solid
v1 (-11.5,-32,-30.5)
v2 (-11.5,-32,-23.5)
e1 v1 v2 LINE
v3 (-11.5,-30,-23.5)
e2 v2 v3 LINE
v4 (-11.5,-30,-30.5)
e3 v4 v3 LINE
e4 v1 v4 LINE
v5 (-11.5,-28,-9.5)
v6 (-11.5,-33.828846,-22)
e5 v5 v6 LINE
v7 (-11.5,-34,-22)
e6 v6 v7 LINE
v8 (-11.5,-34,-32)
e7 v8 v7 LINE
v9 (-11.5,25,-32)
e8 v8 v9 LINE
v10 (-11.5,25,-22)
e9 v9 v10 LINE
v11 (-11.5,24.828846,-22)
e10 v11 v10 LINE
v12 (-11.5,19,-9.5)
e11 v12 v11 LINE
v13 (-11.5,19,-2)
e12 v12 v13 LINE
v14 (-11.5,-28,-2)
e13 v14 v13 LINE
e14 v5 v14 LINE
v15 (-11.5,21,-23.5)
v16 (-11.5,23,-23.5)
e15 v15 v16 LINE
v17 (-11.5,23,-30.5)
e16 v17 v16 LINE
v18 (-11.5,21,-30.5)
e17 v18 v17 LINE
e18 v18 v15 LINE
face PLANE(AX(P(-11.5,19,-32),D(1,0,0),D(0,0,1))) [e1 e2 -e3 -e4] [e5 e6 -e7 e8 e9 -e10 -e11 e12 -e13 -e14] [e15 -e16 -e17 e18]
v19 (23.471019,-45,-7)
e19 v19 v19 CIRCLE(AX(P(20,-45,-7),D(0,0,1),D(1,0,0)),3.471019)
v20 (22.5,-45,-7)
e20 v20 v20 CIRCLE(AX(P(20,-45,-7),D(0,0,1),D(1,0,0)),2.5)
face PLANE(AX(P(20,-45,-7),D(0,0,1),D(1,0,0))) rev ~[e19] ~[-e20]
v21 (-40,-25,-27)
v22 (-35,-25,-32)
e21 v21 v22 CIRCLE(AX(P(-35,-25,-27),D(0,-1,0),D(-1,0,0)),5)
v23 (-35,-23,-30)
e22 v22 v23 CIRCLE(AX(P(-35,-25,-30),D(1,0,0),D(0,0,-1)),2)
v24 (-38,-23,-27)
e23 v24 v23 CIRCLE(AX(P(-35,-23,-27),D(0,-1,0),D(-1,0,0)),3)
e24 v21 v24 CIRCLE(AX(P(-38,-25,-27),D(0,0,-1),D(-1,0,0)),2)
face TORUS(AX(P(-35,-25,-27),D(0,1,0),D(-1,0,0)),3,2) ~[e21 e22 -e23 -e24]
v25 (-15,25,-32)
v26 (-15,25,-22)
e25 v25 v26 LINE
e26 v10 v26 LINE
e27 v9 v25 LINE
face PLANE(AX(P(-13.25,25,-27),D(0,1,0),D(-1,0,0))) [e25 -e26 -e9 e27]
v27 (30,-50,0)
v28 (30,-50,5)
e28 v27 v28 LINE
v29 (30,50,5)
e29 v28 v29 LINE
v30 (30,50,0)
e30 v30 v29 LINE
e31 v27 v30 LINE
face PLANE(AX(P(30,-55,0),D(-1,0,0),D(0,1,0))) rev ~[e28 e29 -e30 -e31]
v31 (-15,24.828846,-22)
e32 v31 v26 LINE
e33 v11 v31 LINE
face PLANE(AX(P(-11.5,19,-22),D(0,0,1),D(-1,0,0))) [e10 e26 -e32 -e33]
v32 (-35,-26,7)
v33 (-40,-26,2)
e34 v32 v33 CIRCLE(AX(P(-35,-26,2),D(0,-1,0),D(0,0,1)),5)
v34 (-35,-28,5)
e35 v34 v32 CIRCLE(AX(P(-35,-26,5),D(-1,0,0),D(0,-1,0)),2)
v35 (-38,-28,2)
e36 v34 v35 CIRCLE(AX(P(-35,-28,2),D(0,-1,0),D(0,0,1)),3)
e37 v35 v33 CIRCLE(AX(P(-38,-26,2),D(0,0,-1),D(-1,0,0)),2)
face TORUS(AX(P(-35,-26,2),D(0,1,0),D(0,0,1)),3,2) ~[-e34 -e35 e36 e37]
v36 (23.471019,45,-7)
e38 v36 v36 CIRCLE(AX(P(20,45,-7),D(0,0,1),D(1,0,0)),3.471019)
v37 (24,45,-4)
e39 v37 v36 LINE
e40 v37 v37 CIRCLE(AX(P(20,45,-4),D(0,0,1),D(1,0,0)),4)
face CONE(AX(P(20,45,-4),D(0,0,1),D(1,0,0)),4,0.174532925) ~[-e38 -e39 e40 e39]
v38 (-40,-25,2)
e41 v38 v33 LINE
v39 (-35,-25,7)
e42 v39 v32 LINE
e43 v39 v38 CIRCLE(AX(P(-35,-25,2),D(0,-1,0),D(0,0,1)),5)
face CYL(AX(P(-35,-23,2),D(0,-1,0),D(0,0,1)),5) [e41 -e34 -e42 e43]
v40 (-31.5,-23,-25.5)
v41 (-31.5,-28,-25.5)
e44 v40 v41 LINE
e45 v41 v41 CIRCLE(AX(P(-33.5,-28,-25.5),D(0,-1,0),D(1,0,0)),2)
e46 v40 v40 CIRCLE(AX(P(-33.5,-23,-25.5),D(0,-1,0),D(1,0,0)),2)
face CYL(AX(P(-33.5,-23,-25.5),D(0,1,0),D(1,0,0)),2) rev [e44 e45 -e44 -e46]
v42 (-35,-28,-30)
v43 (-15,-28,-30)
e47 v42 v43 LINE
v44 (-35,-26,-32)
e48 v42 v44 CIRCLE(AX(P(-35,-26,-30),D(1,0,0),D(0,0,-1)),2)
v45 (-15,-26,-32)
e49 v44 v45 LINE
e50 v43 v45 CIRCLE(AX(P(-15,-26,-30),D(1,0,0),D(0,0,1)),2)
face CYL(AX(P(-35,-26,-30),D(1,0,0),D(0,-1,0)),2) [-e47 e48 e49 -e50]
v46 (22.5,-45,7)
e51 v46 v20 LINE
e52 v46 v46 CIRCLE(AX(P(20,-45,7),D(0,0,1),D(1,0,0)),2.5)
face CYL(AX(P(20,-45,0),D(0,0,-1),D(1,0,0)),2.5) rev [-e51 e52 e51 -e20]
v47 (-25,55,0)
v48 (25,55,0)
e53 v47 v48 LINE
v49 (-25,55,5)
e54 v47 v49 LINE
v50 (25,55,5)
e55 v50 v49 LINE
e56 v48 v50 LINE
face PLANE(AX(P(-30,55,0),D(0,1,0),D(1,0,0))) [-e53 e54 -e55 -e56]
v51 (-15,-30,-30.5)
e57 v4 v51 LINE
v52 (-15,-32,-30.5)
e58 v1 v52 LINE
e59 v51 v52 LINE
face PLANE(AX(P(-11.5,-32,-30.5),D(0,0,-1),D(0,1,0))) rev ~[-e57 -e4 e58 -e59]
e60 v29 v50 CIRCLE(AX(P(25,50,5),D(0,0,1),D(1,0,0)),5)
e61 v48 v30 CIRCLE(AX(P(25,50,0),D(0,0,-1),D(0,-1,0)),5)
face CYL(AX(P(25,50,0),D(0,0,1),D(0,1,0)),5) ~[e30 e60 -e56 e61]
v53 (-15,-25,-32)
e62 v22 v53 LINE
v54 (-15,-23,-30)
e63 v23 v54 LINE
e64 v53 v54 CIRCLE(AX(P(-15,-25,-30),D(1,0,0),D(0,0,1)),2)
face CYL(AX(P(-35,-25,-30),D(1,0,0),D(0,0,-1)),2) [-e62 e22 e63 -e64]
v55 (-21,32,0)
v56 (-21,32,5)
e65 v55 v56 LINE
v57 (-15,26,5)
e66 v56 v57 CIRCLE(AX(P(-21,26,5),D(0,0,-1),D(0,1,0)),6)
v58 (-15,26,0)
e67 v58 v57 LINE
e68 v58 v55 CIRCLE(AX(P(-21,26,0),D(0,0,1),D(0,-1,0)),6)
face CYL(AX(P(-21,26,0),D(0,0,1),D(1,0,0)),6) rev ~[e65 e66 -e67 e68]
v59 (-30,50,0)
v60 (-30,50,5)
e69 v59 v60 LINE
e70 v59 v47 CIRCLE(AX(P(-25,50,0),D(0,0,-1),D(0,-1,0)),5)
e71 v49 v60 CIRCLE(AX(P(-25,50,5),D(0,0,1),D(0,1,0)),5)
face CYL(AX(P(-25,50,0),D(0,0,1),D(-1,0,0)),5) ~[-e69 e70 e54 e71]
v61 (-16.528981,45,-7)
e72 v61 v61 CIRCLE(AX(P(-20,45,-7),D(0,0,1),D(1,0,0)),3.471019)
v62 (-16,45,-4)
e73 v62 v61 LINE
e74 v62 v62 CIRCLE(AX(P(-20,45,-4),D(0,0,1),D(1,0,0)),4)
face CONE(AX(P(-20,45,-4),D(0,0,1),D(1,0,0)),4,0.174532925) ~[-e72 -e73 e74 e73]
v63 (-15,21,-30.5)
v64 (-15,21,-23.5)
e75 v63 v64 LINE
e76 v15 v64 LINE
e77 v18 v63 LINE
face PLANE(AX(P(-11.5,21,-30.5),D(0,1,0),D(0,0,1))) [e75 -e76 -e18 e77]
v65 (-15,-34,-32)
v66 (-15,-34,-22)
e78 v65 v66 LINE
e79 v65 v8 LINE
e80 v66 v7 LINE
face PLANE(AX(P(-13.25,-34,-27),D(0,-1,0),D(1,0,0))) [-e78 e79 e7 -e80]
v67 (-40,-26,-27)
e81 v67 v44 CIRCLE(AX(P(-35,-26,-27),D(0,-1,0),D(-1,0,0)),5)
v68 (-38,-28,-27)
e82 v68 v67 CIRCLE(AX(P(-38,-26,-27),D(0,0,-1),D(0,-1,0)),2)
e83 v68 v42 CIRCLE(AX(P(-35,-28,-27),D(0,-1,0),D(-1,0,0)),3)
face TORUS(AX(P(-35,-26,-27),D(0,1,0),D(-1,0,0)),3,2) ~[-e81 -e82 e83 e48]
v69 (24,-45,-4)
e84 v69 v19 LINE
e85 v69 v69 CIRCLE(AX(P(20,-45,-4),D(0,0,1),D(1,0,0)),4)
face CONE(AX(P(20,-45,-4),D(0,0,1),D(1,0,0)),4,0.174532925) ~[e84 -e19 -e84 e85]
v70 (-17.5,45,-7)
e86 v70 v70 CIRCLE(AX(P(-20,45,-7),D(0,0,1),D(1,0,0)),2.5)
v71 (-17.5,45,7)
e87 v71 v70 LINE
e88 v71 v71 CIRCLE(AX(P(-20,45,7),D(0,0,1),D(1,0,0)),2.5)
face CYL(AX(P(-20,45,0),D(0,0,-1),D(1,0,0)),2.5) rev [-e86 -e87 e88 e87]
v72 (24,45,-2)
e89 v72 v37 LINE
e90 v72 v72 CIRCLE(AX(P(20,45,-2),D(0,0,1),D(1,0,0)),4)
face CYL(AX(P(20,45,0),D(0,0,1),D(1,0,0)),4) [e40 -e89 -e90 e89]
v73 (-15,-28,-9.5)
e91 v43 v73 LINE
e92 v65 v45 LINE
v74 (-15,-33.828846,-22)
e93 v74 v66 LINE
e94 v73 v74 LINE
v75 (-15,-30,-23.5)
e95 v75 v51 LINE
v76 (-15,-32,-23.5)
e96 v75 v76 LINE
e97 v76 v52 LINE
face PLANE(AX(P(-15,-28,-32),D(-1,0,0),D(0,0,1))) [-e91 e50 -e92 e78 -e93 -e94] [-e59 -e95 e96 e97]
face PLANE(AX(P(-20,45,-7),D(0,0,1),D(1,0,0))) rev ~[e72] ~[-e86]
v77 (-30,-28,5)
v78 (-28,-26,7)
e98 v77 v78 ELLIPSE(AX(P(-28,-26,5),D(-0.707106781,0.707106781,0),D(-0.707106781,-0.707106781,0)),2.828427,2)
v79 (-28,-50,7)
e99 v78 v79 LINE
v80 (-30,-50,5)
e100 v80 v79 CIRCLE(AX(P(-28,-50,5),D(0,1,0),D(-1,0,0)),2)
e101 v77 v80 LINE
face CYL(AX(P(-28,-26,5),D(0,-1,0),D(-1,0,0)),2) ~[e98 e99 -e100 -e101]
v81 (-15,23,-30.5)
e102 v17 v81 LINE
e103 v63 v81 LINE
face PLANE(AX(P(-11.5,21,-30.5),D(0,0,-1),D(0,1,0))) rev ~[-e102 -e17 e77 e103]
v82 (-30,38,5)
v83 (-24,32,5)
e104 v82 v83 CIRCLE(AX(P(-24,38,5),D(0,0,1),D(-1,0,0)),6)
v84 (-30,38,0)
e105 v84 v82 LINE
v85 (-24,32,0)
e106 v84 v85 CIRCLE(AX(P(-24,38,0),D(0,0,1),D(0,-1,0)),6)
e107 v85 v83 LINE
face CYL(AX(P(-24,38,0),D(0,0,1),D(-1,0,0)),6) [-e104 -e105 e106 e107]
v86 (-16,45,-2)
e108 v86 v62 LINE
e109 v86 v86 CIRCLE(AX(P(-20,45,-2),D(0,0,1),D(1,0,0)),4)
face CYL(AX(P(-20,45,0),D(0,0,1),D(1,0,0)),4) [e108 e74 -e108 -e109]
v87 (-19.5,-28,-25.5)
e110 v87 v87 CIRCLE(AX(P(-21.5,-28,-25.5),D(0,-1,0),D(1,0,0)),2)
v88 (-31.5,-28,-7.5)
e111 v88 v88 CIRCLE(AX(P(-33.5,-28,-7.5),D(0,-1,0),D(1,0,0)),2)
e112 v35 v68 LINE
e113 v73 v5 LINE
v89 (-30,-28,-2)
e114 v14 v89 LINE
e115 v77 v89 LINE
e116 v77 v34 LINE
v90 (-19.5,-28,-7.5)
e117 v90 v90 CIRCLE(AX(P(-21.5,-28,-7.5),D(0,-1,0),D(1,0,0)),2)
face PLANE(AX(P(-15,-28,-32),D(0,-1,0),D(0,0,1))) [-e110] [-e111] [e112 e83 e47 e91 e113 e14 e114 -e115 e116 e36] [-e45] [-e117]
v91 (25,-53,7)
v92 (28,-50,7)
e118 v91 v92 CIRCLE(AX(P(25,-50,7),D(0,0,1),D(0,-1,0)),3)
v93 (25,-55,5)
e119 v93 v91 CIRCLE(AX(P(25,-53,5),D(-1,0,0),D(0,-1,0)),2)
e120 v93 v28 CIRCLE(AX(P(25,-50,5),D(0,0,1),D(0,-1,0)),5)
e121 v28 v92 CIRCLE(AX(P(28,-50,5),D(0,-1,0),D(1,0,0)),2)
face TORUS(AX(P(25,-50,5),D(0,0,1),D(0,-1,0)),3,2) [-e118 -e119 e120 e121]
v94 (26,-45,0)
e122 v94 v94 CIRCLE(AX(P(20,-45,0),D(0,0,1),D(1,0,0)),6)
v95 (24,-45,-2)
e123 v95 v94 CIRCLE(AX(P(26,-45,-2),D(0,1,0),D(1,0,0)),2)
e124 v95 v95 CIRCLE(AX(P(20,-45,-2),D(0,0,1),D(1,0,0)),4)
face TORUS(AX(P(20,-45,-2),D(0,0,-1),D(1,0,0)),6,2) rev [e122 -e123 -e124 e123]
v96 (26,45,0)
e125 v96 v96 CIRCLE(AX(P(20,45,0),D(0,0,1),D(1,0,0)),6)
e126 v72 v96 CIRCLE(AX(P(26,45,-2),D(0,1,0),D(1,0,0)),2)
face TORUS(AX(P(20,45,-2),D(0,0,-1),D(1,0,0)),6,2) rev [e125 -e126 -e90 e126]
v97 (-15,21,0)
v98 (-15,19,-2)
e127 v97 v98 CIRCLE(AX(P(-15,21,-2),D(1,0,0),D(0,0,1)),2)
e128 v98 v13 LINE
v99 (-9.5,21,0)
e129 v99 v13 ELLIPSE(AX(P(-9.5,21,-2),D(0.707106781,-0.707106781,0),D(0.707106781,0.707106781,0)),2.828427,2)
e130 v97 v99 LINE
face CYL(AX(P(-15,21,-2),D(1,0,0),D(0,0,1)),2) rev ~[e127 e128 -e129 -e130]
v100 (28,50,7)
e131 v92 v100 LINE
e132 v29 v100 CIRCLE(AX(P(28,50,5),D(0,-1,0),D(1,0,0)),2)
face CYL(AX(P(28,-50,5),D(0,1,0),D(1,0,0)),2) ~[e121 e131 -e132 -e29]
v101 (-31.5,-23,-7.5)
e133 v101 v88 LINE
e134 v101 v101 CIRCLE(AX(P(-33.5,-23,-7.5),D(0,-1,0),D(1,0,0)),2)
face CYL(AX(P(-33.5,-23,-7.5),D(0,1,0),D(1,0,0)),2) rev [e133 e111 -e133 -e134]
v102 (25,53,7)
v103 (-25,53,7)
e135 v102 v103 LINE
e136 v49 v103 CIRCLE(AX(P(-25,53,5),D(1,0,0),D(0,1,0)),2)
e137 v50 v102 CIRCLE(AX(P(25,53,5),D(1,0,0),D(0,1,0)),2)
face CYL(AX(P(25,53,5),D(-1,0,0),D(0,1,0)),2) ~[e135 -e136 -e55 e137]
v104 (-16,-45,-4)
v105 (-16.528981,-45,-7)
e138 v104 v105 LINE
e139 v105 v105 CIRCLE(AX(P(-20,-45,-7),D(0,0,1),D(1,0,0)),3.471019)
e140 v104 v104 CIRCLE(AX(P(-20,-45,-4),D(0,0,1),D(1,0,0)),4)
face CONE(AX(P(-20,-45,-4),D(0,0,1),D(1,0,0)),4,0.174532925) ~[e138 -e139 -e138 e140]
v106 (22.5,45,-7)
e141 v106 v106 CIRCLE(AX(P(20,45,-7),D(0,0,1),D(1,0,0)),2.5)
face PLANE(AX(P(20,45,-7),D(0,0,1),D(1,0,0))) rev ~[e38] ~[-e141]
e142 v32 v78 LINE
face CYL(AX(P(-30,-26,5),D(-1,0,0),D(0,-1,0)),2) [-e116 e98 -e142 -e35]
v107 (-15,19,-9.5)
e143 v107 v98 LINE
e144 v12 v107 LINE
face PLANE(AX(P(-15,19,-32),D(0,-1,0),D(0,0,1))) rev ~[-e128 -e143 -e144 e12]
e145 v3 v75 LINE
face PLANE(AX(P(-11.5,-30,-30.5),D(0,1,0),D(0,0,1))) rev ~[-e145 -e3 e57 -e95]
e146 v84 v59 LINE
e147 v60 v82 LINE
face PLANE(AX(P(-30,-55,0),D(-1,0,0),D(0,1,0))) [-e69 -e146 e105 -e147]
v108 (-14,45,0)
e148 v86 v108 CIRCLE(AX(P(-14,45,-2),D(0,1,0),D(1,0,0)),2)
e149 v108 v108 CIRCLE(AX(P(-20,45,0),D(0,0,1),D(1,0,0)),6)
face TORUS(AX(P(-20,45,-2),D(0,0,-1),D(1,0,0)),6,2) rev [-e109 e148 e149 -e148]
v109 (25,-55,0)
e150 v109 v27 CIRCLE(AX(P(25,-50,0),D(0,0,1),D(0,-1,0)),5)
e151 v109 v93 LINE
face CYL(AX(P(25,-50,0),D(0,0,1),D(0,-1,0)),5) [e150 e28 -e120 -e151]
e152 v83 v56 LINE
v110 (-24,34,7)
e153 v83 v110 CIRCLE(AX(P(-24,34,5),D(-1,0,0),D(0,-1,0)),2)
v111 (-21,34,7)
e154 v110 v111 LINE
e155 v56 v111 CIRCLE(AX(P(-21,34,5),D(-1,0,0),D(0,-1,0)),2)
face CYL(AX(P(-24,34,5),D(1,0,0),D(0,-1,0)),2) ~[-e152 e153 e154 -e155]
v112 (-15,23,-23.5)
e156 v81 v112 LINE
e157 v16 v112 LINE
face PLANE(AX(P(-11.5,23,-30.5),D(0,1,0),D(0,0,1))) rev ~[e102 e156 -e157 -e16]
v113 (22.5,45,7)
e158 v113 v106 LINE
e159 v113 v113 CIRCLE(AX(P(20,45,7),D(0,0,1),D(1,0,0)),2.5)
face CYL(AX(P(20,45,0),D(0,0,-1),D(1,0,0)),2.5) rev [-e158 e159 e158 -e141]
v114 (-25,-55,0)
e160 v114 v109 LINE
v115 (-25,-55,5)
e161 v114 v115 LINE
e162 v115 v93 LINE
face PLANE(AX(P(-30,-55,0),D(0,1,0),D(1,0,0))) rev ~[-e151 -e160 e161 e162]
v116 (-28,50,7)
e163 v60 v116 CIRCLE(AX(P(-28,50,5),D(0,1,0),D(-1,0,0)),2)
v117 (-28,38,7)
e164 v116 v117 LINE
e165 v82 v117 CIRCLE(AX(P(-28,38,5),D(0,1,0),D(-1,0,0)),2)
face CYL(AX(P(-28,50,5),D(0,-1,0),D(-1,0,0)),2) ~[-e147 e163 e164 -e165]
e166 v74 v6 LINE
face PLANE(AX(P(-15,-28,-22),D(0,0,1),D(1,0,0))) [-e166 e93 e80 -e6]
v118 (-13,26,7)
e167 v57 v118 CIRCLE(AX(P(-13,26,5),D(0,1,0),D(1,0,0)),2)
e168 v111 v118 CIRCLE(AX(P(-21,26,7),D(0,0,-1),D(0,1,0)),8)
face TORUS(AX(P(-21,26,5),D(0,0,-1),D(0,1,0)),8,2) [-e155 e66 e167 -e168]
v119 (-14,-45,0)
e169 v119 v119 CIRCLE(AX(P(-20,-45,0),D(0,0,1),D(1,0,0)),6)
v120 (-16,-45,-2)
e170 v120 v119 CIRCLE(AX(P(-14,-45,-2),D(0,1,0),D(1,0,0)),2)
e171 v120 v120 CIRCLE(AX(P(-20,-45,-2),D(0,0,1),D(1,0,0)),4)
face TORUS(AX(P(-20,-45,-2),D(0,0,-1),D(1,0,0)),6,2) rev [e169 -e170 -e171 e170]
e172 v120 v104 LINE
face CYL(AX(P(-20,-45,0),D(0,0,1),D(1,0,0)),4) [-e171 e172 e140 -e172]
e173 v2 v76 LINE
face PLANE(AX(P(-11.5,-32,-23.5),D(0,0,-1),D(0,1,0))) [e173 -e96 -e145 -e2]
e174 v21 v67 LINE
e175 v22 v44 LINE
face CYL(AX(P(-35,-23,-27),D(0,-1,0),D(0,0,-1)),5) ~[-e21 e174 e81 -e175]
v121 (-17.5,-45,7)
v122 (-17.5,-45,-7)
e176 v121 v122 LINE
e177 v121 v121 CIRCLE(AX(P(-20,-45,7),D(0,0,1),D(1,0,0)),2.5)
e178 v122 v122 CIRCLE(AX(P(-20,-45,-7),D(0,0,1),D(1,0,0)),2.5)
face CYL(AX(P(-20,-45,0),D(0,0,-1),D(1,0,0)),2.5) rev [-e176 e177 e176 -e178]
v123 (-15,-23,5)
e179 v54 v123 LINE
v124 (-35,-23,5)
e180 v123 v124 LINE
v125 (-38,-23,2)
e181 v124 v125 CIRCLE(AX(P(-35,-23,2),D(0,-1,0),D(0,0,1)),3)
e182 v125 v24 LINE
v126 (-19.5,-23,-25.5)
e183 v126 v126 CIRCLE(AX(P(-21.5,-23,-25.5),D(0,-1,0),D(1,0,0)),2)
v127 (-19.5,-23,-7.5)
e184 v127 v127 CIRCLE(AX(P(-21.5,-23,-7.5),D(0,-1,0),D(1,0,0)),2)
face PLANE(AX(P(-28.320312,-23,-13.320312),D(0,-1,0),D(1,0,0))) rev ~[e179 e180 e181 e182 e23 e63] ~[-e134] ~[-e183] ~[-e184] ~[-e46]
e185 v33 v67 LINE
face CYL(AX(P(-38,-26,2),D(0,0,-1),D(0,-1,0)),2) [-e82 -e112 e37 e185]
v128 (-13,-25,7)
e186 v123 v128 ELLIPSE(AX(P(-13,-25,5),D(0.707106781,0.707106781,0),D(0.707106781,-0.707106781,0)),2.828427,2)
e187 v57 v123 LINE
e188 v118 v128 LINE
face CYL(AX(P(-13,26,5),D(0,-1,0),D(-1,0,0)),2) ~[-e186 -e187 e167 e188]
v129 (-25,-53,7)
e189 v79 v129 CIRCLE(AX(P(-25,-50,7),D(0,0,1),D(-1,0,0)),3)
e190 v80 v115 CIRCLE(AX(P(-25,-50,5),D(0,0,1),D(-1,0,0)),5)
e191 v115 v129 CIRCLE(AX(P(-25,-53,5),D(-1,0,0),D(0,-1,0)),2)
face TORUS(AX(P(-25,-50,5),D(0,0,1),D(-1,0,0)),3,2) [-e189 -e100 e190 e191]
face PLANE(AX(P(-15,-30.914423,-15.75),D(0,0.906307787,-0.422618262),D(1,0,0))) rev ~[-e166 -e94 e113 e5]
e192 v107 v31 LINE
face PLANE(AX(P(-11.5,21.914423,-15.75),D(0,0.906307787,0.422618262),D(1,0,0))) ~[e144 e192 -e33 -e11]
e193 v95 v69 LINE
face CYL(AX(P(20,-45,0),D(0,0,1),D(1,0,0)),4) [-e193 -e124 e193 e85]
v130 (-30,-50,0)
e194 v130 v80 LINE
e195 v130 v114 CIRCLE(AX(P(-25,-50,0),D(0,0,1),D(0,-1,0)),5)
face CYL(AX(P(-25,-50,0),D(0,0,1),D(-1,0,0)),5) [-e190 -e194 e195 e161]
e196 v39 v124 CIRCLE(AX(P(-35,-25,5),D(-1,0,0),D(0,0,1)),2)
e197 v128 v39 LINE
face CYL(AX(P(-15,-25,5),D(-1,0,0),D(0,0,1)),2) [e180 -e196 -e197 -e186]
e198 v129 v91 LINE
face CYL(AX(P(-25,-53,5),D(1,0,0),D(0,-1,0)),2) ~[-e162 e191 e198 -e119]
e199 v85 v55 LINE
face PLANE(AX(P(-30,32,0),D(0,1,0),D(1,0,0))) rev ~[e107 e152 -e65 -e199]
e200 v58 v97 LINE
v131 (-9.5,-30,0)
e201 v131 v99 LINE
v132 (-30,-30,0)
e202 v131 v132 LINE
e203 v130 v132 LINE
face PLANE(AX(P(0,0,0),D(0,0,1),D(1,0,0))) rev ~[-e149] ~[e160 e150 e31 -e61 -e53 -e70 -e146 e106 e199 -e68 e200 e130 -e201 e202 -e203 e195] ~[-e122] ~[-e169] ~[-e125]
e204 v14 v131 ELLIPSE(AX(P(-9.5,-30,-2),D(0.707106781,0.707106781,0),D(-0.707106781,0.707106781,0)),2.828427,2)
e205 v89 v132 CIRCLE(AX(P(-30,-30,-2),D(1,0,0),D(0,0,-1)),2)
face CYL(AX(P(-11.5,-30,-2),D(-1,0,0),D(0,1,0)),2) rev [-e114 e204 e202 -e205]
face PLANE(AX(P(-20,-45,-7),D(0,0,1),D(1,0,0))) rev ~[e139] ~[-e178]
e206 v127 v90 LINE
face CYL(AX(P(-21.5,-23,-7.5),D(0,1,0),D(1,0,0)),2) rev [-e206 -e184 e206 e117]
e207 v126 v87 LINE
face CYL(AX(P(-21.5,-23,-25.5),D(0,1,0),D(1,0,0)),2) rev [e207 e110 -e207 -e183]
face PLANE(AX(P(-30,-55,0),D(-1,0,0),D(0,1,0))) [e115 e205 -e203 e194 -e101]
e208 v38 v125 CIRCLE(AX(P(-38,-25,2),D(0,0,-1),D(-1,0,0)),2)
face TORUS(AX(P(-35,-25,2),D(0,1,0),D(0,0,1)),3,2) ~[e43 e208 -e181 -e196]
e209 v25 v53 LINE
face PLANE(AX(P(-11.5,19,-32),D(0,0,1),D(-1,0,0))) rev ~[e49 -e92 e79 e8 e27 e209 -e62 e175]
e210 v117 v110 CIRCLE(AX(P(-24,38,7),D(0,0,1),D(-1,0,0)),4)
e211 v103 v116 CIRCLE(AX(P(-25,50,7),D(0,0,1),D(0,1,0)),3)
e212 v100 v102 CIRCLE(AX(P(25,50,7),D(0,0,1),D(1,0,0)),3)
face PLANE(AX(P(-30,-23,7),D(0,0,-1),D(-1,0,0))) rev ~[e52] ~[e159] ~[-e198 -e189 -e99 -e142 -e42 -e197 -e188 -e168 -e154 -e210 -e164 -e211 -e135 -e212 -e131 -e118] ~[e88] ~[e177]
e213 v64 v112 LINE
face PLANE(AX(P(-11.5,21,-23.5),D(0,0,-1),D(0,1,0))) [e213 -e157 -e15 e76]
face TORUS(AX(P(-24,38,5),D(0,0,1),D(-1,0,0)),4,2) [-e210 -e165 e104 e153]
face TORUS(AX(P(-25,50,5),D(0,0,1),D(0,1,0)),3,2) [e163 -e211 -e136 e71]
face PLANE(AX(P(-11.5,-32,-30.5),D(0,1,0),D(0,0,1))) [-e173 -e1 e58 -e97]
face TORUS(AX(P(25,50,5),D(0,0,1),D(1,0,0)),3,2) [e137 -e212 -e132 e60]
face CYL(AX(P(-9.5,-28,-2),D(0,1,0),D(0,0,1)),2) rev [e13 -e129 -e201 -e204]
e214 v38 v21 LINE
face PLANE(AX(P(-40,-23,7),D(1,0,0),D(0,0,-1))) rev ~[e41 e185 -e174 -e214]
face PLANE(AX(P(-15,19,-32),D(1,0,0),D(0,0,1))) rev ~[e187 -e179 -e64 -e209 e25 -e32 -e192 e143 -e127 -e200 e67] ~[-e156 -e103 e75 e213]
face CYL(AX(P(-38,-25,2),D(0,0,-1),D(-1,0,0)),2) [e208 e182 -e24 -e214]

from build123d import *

# Parameters (mm, degrees)
SKETCH_W           = 60
SKETCH_H           = 110
SKETCH_R           = 2.5
PAD_DEPTH          = 7
FILLET_R           = 5
SKETCH001_R        = 4
SKETCH001_R_2      = 2.5
PAD001_DEPTH       = 7
CHAMFER_1_ANGLE    = 10
CHAMFER_1_SIZE     = 3
CHAMFER_2_ANGLE    = 10
CHAMFER_2_SIZE     = 3
CHAMFER_3_ANGLE    = 10
CHAMFER_3_SIZE     = 3
CHAMFER_4_ANGLE    = 10
CHAMFER_4_SIZE     = 3
SKETCH002_R        = 2
PAD002_DEPTH       = 5
SKETCH003_W        = 47
SKETCH003_H        = 32
PAD003_DEPTH       = 3.5
SKETCH004_W        = 3.5
SKETCH004_H        = 10
PAD004_DEPTH       = 6
SKETCH005_W        = 3.5
SKETCH005_H        = 10
PAD005_DEPTH       = 6
SKETCH006_W        = 2
SKETCH006_H        = 7
POCKET_DEPTH       = 28.501
CHAMFER001_1_ANGLE = 25
CHAMFER001_1_SIZE  = 12.5
CHAMFER001_2_ANGLE = 25
CHAMFER001_2_SIZE  = 12.5
SKETCH007_W        = 15
SKETCH007_H        = 55
POCKET001_DEPTH    = 7.001
FILLET001_R        = 6
FILLET002_R        = 5
FILLET003_R        = 2
FILLET004_R        = 2
FILLET005_R        = 2
FILLET006_R        = 2


with BuildPart() as part:
    # Sketch → Pad (new body)
    with BuildSketch(Plane.XY):
        Rectangle(SKETCH_W, SKETCH_H)
        with Locations((-20, 45)):
            Circle(SKETCH_R, mode=Mode.SUBTRACT)
        with Locations((20, 45)):
            Circle(SKETCH_R, mode=Mode.SUBTRACT)
        with Locations((-20, -45)):
            Circle(SKETCH_R, mode=Mode.SUBTRACT)
        with Locations((20, -45)):
            Circle(SKETCH_R, mode=Mode.SUBTRACT)
    extrude(amount=PAD_DEPTH)

    # Fillet
    fillet_edges = [part.edges().sort_by_distance(p)[0] for p in [
        (30, -55, 3.5),
        (-30, -55, 3.5),
        (30, 55, 3.5),
        (-30, 55, 3.5),
    ]]
    fillet(fillet_edges, radius=FILLET_R)

    # Sketch001 → Pad001 (join)
    with BuildSketch(Plane.XY):
        with Locations((20, 45)):
            Circle(SKETCH001_R)
        with Locations((20, 45)):
            Circle(SKETCH001_R_2, mode=Mode.SUBTRACT)
        with Locations((-20, 45)):
            Circle(SKETCH001_R)
        with Locations((-20, 45)):
            Circle(SKETCH001_R_2, mode=Mode.SUBTRACT)
        with Locations((20, -45)):
            Circle(SKETCH001_R)
        with Locations((20, -45)):
            Circle(SKETCH001_R_2, mode=Mode.SUBTRACT)
        with Locations((-20, -45)):
            Circle(SKETCH001_R)
        with Locations((-20, -45)):
            Circle(SKETCH001_R_2, mode=Mode.SUBTRACT)
    extrude(amount=-PAD001_DEPTH)

    # Chamfer 1
    chamfer_1_edges = [part.edges().sort_by_distance(p)[0] for p in [
        (-24, 45, -7),
    ]]
    chamfer_1_side = part.faces().sort_by_distance((-24, 45, -3.5))[0]
    chamfer(chamfer_1_edges, length=CHAMFER_1_SIZE, angle=CHAMFER_1_ANGLE, reference=chamfer_1_side)

    # Chamfer 2
    chamfer_2_edges = [part.edges().sort_by_distance(p)[0] for p in [
        (16, 45, -7),
    ]]
    chamfer_2_side = part.faces().sort_by_distance((16, 45, -3.5))[0]
    chamfer(chamfer_2_edges, length=CHAMFER_2_SIZE, angle=CHAMFER_2_ANGLE, reference=chamfer_2_side)

    # Chamfer 3
    chamfer_3_edges = [part.edges().sort_by_distance(p)[0] for p in [
        (-24, -45, -7),
    ]]
    chamfer_3_side = part.faces().sort_by_distance((-24, -45, -3.5))[0]
    chamfer(chamfer_3_edges, length=CHAMFER_3_SIZE, angle=CHAMFER_3_ANGLE, reference=chamfer_3_side)

    # Chamfer 4
    chamfer_4_edges = [part.edges().sort_by_distance(p)[0] for p in [
        (16, -45, -7),
    ]]
    chamfer_4_side = part.faces().sort_by_distance((16, -45, -3.5))[0]
    chamfer(chamfer_4_edges, length=CHAMFER_4_SIZE, angle=CHAMFER_4_ANGLE, reference=chamfer_4_side)

    # Sketch002 (on DatumPlane) → Pad002 (join)
    with BuildSketch(Plane.XZ.offset(23)):
        Polygon((-15, 0), (-30, 0), (-30, 7), (-40, 7), (-40, 0), (-40, -32), (-15, -32), align=None)
        with Locations((-33.5, -7.5)):
            Circle(SKETCH002_R, mode=Mode.SUBTRACT)
        with Locations((-21.5, -7.5)):
            Circle(SKETCH002_R, mode=Mode.SUBTRACT)
        with Locations((-33.5, -25.5)):
            Circle(SKETCH002_R, mode=Mode.SUBTRACT)
        with Locations((-21.5, -25.5)):
            Circle(SKETCH002_R, mode=Mode.SUBTRACT)
    extrude(amount=PAD002_DEPTH)

    # Sketch003 → Pad003 (join)
    with BuildSketch(Plane.YZ.offset(-15)):
        with Locations((-4.5, -16)):
            Rectangle(SKETCH003_W, SKETCH003_H)
    extrude(amount=PAD003_DEPTH)

    # Sketch004 → Pad004 (join)
    with BuildSketch(Plane.XZ.offset(28)):
        with Locations((-13.25, -27)):
            Rectangle(SKETCH004_W, SKETCH004_H)
    extrude(amount=PAD004_DEPTH)

    # Sketch005 (on Face15 of Pad004) → Pad005 (join)
    with BuildSketch(Plane(origin=(0, 19, 0), x_dir=(-1, 0, 0), z_dir=(0, 1, 0))):
        with Locations((13.25, -27)):
            Rectangle(SKETCH005_W, SKETCH005_H)
    extrude(amount=PAD005_DEPTH)

    # Sketch006 (on Face14 of Pad005) → Pocket (cut, through all)
    with BuildSketch(Plane.YZ.offset(-11.5)):
        with Locations((-31, -27)):
            Rectangle(SKETCH006_W, SKETCH006_H)
        with Locations((22, -27)):
            Rectangle(SKETCH006_W, SKETCH006_H)
    extrude(amount=-POCKET_DEPTH, mode=Mode.SUBTRACT)

    # Chamfer001 1
    chamfer001_1_edges = [part.edges().sort_by_distance(p)[0] for p in [
        (-13.25, -28, -22),
    ]]
    chamfer001_1_side = part.faces().sort_by_distance((-13.25, -28, -11))[0]
    chamfer(chamfer001_1_edges, length=CHAMFER001_1_SIZE, angle=CHAMFER001_1_ANGLE, reference=chamfer001_1_side)

    # Chamfer001 2
    chamfer001_2_edges = [part.edges().sort_by_distance(p)[0] for p in [
        (-13.25, 19, -22),
    ]]
    chamfer001_2_side = part.faces().sort_by_distance((-13.25, 19, -11))[0]
    chamfer(chamfer001_2_edges, length=CHAMFER001_2_SIZE, angle=CHAMFER001_2_ANGLE, reference=chamfer001_2_side)

    # Sketch007 (on Face4 of Chamfer001) → Pocket001 (cut, through all)
    with BuildSketch(Plane(origin=(0, 0, 0), x_dir=(1, 0, 0), z_dir=(0, 0, -1))):
        with Locations((-22.5, -4.5)):
            Rectangle(SKETCH007_W, SKETCH007_H)
    extrude(amount=-POCKET001_DEPTH, mode=Mode.SUBTRACT)

    # Fillet001
    fillet001_edges = [part.edges().sort_by_distance(p)[0] for p in [
        (-30, 32, 3.5),
        (-15, 32, 3.5),
    ]]
    fillet(fillet001_edges, radius=FILLET001_R)

    # Fillet002
    fillet002_edges = [part.edges().sort_by_distance(p)[0] for p in [
        (-40, -25.5, -32),
        (-40, -25.5, 7),
    ]]
    fillet(fillet002_edges, radius=FILLET002_R)

    # Fillet003
    fillet003_edges = [part.edges().sort_by_distance(p)[0] for p in [
        (-22.5, -28, 0),
        (-11.5, -4.5, 0),
        (-13.25, 19, 0),
    ]]
    fillet(fillet003_edges, radius=FILLET003_R)

    # Fillet004
    fillet004_edges = [part.edges().sort_by_distance(p)[0] for p in [
        (-40, -28, -13.5),
        (-40, -25.5, -27),
        (-40, -25.5, 0),
        (-40, -23, -13.5),
    ]]
    fillet(fillet004_edges, radius=FILLET004_R)

    # Fillet005
    fillet005_edges = [part.edges().sort_by_distance(p)[0] for p in [
        (-30, -39, 7),
        (0, -55, 7),
        (30, 0, 7),
        (0, 55, 7),
        (-30, 44, 7),
    ]]
    fillet(fillet005_edges, radius=FILLET005_R)

    # Fillet006
    fillet006_edges = [part.edges().sort_by_distance(p)[0] for p in [
        (16, -45, 0),
        (-24, -45, 0),
        (16, 45, 0),
        (-24, 45, 0),
    ]]
    fillet(fillet006_edges, radius=FILLET006_R)


solid = part.part
